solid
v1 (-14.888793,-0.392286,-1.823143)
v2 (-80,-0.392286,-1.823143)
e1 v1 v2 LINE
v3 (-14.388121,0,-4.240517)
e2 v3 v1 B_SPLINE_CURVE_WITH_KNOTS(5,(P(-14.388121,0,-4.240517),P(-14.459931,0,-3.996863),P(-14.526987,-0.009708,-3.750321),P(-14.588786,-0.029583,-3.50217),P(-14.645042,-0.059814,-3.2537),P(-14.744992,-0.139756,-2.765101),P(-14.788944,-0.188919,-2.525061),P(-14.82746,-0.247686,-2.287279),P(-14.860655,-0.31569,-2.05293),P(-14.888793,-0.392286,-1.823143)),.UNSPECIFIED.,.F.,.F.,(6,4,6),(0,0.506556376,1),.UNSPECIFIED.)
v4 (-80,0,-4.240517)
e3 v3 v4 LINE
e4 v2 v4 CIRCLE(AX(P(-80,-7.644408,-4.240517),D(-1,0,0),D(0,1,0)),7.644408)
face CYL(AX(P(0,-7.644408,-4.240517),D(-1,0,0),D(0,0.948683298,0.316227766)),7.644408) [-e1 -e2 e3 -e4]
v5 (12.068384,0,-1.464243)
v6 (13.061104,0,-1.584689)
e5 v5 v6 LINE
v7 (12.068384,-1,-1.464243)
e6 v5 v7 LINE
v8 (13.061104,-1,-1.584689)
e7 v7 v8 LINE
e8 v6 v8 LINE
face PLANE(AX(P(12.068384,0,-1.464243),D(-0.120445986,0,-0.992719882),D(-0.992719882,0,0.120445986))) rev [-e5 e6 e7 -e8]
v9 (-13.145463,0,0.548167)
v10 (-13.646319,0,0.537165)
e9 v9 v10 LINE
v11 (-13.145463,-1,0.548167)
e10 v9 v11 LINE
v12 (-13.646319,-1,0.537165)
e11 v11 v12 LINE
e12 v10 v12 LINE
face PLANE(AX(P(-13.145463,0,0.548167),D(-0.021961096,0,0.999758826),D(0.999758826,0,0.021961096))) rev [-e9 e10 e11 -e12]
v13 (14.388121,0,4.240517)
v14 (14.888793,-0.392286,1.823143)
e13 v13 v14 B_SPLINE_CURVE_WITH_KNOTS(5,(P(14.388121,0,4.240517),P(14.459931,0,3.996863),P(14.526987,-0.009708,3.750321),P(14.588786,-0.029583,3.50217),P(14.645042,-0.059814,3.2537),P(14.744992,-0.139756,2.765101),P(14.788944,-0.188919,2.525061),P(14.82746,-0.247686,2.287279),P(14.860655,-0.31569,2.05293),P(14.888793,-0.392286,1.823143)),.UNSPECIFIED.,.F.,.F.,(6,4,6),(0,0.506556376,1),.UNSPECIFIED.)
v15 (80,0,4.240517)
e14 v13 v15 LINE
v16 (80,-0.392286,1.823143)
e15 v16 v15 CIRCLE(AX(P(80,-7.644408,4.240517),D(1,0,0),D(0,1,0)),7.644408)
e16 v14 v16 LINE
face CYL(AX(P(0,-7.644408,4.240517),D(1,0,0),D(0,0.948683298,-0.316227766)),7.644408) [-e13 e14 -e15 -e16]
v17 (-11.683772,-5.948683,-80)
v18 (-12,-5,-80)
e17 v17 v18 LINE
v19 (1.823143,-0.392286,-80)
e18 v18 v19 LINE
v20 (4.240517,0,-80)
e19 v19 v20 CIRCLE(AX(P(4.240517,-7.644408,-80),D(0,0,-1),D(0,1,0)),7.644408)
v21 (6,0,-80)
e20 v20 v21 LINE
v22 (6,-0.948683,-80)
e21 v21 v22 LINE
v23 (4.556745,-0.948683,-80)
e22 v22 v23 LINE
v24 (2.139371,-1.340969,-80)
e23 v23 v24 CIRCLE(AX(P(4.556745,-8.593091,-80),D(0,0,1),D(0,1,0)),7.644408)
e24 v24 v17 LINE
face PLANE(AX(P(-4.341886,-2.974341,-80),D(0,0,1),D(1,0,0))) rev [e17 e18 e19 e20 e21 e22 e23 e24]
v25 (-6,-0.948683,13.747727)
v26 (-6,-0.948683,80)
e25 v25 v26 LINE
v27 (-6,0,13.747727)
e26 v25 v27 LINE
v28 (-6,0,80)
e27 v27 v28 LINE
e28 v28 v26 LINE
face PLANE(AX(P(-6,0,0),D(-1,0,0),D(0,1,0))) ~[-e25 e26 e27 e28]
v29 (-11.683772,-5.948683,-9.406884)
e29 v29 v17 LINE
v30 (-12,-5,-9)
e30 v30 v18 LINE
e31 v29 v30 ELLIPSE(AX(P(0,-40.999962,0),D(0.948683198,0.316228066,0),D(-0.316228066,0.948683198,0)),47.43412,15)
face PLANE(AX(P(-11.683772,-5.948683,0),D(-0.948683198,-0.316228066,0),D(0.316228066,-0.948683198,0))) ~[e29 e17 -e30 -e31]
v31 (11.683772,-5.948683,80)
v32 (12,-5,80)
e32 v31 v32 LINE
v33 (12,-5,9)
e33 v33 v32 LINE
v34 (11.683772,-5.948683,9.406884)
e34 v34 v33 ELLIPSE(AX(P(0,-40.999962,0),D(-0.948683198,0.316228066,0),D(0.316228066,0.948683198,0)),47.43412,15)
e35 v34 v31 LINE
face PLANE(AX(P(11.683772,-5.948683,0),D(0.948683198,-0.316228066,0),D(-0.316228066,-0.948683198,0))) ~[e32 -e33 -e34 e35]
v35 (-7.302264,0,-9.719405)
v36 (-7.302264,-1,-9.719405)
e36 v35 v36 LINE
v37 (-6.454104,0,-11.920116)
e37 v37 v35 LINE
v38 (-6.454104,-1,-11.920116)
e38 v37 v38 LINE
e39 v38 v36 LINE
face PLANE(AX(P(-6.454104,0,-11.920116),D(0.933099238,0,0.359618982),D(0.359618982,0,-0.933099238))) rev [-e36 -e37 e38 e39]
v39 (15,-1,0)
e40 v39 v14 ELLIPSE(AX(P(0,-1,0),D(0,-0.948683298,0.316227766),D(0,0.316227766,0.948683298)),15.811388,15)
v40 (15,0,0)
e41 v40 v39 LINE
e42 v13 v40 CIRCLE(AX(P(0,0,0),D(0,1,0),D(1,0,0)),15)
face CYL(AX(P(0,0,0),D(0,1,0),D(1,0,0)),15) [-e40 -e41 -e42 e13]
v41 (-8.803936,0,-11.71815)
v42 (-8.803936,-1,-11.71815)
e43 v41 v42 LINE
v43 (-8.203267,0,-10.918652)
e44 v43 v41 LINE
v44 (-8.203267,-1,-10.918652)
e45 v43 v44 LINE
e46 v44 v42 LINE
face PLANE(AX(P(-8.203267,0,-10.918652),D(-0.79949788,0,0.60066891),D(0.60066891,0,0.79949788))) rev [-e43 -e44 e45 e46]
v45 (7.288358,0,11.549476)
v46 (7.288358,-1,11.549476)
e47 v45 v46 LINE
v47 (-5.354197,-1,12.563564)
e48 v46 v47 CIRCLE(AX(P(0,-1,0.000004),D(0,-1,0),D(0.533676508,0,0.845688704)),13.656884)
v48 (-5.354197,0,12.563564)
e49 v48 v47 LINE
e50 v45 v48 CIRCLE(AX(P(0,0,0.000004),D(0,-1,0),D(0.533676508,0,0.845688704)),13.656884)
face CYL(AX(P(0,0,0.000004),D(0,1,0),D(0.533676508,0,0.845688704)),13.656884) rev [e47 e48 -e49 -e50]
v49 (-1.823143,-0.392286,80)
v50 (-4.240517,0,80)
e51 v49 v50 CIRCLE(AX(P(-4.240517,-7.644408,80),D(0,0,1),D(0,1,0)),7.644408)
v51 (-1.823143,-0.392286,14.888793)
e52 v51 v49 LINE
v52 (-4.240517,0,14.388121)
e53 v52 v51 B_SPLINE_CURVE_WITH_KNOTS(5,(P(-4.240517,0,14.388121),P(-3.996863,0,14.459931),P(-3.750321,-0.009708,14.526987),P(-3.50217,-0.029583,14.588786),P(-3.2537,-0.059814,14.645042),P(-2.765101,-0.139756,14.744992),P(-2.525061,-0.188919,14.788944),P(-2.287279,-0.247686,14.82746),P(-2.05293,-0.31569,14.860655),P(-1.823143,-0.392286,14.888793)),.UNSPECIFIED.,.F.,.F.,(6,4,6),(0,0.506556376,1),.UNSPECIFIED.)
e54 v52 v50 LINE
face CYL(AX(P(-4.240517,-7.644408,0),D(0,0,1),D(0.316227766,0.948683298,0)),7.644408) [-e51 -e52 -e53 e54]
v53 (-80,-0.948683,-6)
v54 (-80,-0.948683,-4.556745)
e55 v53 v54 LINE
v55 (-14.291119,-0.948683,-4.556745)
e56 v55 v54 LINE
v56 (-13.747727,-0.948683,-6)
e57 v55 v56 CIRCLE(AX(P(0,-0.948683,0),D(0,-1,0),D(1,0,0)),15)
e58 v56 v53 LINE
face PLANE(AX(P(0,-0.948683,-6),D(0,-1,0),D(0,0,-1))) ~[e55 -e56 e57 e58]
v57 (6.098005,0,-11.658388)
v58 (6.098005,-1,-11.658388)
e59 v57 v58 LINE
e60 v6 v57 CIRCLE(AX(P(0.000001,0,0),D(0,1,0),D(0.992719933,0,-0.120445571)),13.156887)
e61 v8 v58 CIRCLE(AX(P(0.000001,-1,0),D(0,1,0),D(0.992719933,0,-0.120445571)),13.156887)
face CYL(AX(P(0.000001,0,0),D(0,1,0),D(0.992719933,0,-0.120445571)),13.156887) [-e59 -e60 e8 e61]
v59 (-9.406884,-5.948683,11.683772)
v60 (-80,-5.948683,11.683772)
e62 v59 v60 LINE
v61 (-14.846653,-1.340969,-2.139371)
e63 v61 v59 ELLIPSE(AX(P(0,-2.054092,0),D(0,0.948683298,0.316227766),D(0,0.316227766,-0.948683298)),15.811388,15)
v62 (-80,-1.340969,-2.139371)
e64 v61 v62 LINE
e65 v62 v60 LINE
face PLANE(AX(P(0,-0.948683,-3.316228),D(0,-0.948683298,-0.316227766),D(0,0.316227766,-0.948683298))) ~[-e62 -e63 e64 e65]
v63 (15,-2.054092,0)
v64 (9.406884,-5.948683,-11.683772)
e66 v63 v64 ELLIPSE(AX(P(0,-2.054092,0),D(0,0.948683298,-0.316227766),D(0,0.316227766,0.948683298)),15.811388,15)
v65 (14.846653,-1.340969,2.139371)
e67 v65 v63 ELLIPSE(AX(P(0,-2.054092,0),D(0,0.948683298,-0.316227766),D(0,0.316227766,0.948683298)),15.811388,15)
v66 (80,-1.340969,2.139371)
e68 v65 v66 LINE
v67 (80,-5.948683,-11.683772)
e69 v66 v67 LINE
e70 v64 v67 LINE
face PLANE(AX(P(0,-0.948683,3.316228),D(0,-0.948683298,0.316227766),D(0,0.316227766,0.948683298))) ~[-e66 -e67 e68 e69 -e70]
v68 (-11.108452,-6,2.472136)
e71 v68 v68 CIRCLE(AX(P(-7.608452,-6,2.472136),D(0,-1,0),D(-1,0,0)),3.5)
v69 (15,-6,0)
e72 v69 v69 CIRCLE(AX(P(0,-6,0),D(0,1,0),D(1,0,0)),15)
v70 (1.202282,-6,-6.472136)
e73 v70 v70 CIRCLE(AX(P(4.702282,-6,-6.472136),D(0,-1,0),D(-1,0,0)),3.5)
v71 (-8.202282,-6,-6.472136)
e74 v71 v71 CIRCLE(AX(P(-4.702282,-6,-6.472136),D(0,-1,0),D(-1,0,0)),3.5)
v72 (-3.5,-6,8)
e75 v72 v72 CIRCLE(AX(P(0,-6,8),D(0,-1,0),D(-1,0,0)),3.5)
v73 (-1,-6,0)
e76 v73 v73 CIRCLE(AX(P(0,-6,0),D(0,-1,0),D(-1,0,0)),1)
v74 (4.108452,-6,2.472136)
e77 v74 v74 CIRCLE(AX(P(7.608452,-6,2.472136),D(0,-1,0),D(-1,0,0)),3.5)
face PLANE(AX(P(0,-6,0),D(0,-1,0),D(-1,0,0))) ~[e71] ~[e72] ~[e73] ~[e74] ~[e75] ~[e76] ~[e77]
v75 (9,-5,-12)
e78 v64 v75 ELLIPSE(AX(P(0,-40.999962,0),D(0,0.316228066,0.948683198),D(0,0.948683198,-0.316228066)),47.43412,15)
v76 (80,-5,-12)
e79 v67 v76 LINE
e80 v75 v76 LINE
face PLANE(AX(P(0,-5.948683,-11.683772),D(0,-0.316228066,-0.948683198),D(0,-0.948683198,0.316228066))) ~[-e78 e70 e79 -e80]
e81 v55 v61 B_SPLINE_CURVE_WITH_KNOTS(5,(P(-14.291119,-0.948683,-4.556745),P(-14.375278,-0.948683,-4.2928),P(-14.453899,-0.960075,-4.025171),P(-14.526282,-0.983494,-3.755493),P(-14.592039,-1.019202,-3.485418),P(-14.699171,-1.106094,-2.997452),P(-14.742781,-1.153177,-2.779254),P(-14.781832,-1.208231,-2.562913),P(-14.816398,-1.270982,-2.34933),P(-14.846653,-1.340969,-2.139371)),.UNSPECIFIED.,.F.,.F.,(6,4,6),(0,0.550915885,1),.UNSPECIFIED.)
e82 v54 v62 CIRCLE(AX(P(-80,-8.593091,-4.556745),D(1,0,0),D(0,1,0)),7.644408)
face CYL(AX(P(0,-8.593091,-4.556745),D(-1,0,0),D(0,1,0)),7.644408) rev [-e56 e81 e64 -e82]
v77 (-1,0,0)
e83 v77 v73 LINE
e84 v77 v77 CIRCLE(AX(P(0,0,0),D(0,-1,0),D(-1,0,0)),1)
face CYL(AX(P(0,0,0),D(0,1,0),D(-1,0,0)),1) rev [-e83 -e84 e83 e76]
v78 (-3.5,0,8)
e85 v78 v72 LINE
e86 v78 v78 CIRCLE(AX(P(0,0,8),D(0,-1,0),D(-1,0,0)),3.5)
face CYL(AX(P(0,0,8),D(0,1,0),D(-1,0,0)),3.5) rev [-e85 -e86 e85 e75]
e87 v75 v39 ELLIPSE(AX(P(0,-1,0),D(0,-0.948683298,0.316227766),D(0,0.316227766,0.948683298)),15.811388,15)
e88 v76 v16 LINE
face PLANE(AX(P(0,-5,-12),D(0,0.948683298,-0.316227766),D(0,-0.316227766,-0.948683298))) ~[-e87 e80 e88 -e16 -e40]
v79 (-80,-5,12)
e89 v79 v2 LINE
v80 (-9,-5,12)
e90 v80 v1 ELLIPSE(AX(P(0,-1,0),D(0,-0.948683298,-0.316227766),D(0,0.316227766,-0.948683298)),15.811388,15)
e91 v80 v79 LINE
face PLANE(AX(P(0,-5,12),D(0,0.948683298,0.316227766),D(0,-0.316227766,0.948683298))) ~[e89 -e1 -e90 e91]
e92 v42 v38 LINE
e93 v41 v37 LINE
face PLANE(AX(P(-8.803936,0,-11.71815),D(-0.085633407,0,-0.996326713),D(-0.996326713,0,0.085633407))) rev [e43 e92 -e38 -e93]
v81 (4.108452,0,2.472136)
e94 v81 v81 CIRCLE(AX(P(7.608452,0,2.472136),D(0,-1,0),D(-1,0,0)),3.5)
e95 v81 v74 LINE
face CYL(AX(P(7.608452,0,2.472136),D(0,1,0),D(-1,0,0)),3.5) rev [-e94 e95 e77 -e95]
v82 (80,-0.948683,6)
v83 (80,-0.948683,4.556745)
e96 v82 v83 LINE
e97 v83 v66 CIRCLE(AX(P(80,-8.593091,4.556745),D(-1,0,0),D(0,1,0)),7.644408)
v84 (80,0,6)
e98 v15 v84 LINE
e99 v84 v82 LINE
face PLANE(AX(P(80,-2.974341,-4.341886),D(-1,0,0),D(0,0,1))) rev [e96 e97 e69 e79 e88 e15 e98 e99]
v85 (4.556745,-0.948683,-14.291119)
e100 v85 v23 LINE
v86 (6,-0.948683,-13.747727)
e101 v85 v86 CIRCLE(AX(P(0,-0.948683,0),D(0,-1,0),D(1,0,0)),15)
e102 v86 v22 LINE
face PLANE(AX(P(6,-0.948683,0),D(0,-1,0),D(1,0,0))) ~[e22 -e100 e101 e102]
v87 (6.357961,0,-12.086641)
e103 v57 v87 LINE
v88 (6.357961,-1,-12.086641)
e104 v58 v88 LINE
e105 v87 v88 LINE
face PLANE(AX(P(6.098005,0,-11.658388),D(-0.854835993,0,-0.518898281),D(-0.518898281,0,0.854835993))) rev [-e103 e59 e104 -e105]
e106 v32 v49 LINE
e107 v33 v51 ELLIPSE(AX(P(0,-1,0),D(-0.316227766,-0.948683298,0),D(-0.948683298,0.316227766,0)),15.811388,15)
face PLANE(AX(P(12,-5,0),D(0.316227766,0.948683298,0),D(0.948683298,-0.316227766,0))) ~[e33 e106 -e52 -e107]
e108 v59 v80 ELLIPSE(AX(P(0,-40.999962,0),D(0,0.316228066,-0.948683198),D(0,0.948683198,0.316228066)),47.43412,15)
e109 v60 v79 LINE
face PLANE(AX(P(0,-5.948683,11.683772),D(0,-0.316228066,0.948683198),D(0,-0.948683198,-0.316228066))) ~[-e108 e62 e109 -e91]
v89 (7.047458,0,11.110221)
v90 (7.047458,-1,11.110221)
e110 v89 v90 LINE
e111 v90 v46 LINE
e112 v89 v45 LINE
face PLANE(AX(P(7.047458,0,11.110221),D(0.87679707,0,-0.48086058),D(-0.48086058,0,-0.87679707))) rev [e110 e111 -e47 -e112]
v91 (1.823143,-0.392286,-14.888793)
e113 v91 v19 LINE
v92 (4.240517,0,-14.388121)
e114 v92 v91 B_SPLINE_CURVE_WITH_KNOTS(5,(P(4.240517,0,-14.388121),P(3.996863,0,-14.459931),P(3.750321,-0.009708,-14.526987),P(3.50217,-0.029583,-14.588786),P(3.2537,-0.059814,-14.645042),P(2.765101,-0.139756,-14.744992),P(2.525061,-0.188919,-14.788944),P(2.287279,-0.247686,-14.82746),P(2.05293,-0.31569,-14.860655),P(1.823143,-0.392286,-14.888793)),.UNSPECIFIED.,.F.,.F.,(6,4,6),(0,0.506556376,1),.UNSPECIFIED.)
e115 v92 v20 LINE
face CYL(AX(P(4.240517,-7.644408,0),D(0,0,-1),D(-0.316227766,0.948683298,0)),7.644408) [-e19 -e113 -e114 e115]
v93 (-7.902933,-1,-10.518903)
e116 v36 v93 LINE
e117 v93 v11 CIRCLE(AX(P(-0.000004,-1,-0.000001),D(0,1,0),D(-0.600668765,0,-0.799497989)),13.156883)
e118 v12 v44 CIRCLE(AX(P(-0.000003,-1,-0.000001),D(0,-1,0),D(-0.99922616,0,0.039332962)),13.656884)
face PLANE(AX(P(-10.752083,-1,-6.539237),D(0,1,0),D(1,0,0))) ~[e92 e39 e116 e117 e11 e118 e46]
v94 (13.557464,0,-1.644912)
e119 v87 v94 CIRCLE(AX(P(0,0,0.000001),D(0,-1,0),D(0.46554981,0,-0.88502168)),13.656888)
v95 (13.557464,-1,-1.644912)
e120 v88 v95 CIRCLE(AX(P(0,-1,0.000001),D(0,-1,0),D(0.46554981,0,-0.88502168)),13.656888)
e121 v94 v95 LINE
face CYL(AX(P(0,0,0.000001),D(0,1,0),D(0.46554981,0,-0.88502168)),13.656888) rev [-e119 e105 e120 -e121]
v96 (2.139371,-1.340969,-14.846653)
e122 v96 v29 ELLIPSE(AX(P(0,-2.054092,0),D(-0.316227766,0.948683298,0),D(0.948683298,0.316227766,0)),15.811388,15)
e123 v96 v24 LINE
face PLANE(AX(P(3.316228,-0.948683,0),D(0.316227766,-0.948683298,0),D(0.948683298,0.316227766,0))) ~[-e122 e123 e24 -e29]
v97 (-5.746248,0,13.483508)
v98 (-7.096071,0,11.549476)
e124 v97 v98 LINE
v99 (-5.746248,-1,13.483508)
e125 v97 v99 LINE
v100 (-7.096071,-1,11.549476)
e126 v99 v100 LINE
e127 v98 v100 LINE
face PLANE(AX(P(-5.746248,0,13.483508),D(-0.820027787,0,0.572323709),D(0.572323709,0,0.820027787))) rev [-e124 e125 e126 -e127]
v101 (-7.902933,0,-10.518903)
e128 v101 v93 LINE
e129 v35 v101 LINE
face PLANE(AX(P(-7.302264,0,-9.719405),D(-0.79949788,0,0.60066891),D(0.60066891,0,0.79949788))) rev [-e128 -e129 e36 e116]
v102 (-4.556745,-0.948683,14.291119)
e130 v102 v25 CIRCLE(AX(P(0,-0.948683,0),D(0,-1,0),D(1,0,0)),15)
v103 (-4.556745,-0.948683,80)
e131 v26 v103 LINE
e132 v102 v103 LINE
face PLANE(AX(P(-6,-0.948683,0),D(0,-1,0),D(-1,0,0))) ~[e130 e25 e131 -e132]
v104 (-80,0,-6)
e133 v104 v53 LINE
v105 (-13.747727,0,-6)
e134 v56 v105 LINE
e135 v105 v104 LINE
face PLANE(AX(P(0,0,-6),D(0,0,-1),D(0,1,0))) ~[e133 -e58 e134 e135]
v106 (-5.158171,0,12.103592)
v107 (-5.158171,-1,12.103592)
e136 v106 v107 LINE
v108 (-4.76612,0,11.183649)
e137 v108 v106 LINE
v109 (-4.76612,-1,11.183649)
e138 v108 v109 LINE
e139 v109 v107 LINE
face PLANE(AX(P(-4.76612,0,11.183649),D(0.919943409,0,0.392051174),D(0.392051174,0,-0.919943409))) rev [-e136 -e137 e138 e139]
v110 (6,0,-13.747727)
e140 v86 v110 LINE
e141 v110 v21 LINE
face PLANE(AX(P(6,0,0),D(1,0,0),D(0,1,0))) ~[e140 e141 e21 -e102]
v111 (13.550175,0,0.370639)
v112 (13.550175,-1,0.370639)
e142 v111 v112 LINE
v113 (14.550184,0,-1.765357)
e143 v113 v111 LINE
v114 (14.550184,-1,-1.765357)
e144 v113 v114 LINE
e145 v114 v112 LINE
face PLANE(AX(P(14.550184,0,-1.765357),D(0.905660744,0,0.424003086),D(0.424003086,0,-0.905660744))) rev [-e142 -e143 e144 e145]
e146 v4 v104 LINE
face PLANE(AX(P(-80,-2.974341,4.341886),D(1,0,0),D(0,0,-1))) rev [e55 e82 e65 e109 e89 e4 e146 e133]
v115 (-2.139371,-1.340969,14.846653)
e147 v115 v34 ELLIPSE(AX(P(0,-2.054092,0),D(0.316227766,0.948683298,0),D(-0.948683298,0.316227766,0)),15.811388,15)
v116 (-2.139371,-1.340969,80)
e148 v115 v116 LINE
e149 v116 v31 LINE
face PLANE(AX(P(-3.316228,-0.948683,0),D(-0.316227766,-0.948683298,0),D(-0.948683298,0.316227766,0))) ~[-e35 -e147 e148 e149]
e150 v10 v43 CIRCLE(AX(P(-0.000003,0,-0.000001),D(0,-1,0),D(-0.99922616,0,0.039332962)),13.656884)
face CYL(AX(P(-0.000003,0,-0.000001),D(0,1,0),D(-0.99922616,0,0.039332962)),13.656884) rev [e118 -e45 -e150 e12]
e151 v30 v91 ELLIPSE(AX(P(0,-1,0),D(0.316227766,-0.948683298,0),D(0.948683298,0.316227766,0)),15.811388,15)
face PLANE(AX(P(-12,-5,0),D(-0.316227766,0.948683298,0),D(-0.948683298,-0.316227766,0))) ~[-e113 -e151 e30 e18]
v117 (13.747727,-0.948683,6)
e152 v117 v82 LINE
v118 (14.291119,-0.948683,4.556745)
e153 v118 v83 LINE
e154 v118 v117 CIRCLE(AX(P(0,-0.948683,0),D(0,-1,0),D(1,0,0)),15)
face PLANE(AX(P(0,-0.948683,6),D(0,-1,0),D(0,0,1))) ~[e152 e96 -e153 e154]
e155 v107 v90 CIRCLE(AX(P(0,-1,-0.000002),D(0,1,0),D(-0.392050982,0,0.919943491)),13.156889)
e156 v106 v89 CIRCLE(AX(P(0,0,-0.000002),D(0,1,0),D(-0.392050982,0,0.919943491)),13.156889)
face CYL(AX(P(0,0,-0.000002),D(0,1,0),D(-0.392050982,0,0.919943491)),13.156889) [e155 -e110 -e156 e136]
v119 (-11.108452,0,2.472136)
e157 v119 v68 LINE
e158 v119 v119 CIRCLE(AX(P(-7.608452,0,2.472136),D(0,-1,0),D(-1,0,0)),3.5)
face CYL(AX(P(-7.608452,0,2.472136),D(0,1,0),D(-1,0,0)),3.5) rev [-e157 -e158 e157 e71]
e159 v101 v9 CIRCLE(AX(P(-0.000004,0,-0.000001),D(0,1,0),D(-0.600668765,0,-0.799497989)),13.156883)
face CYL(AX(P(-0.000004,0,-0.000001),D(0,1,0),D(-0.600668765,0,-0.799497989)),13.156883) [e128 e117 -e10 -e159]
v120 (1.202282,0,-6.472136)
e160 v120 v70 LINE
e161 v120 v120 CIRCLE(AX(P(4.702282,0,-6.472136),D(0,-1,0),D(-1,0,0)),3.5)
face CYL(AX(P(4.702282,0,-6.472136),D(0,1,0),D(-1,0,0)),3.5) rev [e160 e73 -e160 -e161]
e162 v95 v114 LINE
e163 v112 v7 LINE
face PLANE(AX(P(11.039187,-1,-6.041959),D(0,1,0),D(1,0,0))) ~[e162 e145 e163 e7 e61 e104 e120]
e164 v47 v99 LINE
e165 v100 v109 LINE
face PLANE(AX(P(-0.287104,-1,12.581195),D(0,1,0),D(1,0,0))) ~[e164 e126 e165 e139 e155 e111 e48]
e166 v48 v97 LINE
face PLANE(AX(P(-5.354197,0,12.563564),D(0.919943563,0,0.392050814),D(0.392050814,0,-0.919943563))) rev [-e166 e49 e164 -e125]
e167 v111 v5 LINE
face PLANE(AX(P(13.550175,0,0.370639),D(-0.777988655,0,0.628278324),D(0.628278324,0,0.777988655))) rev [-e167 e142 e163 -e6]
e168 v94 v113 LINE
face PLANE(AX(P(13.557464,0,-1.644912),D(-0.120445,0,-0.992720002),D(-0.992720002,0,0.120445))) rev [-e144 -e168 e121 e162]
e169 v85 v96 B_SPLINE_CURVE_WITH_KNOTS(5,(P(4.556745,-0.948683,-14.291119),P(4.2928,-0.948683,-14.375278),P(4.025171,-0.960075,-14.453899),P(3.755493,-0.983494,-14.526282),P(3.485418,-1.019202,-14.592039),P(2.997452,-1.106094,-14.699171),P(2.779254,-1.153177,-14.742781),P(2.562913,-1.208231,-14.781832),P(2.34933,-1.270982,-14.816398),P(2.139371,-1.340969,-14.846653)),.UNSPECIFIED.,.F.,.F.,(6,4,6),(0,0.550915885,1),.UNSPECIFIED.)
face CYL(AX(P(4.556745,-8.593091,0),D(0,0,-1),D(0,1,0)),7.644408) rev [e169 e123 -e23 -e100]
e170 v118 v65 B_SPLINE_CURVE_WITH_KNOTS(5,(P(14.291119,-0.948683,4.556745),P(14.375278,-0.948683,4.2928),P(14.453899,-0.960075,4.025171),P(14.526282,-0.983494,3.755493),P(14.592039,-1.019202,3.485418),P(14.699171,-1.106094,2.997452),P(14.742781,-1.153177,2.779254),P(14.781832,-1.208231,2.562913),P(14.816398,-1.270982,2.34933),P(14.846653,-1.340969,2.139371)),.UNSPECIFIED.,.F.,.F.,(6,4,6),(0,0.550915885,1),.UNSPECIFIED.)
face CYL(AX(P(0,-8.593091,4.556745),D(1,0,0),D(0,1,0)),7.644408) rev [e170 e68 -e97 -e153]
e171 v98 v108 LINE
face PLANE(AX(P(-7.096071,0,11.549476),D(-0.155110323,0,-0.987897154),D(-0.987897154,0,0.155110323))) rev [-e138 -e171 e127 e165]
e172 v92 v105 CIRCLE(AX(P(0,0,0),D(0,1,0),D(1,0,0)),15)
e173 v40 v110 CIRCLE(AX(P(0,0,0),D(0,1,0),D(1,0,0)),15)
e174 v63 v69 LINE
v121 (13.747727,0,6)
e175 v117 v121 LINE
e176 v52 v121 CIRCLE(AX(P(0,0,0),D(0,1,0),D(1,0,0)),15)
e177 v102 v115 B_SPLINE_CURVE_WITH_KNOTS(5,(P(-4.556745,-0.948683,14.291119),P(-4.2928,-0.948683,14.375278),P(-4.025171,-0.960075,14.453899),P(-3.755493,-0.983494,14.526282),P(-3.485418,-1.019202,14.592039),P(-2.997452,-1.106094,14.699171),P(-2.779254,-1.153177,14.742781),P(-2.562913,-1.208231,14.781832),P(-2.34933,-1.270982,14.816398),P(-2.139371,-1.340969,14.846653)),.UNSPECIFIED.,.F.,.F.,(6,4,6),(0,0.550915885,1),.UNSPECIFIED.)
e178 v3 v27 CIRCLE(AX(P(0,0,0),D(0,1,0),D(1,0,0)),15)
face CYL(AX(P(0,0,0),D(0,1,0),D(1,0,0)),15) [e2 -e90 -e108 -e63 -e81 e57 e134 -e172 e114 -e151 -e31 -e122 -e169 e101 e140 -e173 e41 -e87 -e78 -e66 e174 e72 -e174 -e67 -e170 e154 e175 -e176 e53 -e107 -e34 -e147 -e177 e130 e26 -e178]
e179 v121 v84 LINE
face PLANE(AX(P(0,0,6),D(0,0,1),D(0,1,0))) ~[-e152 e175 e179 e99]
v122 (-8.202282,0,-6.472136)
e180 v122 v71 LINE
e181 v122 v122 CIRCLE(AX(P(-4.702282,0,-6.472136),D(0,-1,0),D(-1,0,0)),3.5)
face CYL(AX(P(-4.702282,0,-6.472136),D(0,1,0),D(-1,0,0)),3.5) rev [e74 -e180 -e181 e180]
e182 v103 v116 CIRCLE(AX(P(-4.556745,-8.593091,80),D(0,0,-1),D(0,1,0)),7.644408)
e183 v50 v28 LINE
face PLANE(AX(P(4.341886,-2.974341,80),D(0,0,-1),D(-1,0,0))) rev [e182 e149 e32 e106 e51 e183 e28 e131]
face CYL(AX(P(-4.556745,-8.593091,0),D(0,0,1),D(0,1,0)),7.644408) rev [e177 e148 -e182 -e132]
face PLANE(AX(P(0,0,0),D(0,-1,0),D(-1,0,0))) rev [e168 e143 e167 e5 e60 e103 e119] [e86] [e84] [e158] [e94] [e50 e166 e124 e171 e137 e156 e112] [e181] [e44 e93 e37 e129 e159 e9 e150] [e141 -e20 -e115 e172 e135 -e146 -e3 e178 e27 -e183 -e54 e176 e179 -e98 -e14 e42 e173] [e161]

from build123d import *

# Parameters (mm, degrees)
F1_DEPTH  = 80
F2_R      = 7.644408
F4_COUNT  = 4
F5_R      = 15
F6_DEPTH  = 6
F7_R      = 3.5
F7_R_2    = 1
F8_DEPTH  = 25
F10_DEPTH = 1


with BuildPart() as f1:
    # F0 (on Top) → F1 (new body)
    with BuildSketch(Plane.XY):
        Polygon((11.683772, -5.948683), (12, -5), (-3, 0), (-3.316228, -0.948683), align=None)
        Polygon((-3.316228, -0.948683), (-3, 0), (-6, 0), (-6, -0.948683), align=None)
    extrude(amount=-F1_DEPTH)

    # F2
    f2_edges = [f1.edges().sort_by_distance(p)[0] for p in [
        (-3.316228, -0.948683, -40),
        (-3, 0, -40),
    ]]
    fillet(f2_edges, radius=F2_R)



with BuildPart() as f4_1:
    # F4: instance of F1
    add(f1.part.rotate(Axis((0, 13.525062, 0), (0, 1, 0)), 1 * 360 / F4_COUNT))


with BuildPart() as f4_2:
    # F4: instance of F1
    add(f1.part.rotate(Axis((0, 13.525062, 0), (0, 1, 0)), 2 * 360 / F4_COUNT))


with BuildPart() as f4_3:
    # F4: instance of F1
    add(f1.part.rotate(Axis((0, 13.525062, 0), (0, 1, 0)), 3 * 360 / F4_COUNT))


with BuildPart() as f1_1:
    add(f1.part)

    add(f4_1.part)  # F6 merges F4_1

    add(f4_2.part)  # F6 merges F4_2

    add(f4_3.part)  # F6 merges F4_3
    # F5 (on Front) → F6 (join)
    with BuildSketch(Plane.XZ):
        Circle(F5_R)
    extrude(amount=F6_DEPTH)

    # F7 (on face) → F8 (cut)
    with BuildSketch(Plane(origin=(0, 0, 0), x_dir=(-1, 0, 0), z_dir=(0, 1, 0))):
        with Locations((-4.702282, 6.472136)):
            Circle(F7_R)
        with Locations((-7.608452, -2.472136)):
            Circle(F7_R)
        with Locations((0, -8)):
            Circle(F7_R)
        with Locations((7.608452, -2.472136)):
            Circle(F7_R)
        with Locations((4.702282, 6.472136)):
            Circle(F7_R)
        Circle(F7_R_2)
    extrude(amount=-F8_DEPTH, mode=Mode.SUBTRACT)

    # F9 (on face) → F10 (cut)
    with BuildSketch(Plane(origin=(0, 0, 0), x_dir=(-1, 0, 0), z_dir=(0, 1, 0))):
        with BuildLine():
            ThreePointArc((5.158171, -12.103592), (-1.067262, -13.113528), (-7.047458, -11.110221))
            Line((-7.047458, -11.110221), (-7.288358, -11.549476))
            ThreePointArc((-7.288358, -11.549476), (-1.091943, -13.613164), (5.354197, -12.563564))
            Line((5.354197, -12.563564), (5.746248, -13.483508))
            Line((5.746248, -13.483508), (7.096071, -11.549476))
            Line((7.096071, -11.549476), (4.76612, -11.183649))
            Line((4.76612, -11.183649), (5.158171, -12.103592))
        make_face()
        with BuildLine():
            Line((8.803936, 11.71815), (6.454104, 11.920116))
            Line((6.454104, 11.920116), (7.302264, 9.719405))
            Line((7.302264, 9.719405), (7.902933, 10.518903))
            ThreePointArc((7.902933, 10.518903), (11.89028, 5.632489), (13.145463, -0.548167))
            Line((13.145463, -0.548167), (13.646319, -0.537165))
            ThreePointArc((13.646319, -0.537165), (12.335317, 5.860932), (8.203267, 10.918652))
            Line((8.203267, 10.918652), (8.803936, 11.71815))
        make_face()
        with BuildLine():
            Line((-14.550184, 1.765357), (-13.550175, -0.370639))
            Line((-13.550175, -0.370639), (-12.068384, 1.464243))
            Line((-12.068384, 1.464243), (-13.061104, 1.584689))
            ThreePointArc((-13.061104, 1.584689), (-10.823018, 7.48104), (-6.098005, 11.658388))
            Line((-6.098005, 11.658388), (-6.357961, 12.086641))
            ThreePointArc((-6.357961, 12.086641), (-11.243374, 7.752232), (-13.557464, 1.644912))
            Line((-13.557464, 1.644912), (-14.550184, 1.765357))
        make_face()
    extrude(amount=-F10_DEPTH, mode=Mode.SUBTRACT)


with BuildPart() as f11_1:
    # F11: instance of F1
    add(f1_1.part.mirror(Plane.XY))


solid = f11_1.part
